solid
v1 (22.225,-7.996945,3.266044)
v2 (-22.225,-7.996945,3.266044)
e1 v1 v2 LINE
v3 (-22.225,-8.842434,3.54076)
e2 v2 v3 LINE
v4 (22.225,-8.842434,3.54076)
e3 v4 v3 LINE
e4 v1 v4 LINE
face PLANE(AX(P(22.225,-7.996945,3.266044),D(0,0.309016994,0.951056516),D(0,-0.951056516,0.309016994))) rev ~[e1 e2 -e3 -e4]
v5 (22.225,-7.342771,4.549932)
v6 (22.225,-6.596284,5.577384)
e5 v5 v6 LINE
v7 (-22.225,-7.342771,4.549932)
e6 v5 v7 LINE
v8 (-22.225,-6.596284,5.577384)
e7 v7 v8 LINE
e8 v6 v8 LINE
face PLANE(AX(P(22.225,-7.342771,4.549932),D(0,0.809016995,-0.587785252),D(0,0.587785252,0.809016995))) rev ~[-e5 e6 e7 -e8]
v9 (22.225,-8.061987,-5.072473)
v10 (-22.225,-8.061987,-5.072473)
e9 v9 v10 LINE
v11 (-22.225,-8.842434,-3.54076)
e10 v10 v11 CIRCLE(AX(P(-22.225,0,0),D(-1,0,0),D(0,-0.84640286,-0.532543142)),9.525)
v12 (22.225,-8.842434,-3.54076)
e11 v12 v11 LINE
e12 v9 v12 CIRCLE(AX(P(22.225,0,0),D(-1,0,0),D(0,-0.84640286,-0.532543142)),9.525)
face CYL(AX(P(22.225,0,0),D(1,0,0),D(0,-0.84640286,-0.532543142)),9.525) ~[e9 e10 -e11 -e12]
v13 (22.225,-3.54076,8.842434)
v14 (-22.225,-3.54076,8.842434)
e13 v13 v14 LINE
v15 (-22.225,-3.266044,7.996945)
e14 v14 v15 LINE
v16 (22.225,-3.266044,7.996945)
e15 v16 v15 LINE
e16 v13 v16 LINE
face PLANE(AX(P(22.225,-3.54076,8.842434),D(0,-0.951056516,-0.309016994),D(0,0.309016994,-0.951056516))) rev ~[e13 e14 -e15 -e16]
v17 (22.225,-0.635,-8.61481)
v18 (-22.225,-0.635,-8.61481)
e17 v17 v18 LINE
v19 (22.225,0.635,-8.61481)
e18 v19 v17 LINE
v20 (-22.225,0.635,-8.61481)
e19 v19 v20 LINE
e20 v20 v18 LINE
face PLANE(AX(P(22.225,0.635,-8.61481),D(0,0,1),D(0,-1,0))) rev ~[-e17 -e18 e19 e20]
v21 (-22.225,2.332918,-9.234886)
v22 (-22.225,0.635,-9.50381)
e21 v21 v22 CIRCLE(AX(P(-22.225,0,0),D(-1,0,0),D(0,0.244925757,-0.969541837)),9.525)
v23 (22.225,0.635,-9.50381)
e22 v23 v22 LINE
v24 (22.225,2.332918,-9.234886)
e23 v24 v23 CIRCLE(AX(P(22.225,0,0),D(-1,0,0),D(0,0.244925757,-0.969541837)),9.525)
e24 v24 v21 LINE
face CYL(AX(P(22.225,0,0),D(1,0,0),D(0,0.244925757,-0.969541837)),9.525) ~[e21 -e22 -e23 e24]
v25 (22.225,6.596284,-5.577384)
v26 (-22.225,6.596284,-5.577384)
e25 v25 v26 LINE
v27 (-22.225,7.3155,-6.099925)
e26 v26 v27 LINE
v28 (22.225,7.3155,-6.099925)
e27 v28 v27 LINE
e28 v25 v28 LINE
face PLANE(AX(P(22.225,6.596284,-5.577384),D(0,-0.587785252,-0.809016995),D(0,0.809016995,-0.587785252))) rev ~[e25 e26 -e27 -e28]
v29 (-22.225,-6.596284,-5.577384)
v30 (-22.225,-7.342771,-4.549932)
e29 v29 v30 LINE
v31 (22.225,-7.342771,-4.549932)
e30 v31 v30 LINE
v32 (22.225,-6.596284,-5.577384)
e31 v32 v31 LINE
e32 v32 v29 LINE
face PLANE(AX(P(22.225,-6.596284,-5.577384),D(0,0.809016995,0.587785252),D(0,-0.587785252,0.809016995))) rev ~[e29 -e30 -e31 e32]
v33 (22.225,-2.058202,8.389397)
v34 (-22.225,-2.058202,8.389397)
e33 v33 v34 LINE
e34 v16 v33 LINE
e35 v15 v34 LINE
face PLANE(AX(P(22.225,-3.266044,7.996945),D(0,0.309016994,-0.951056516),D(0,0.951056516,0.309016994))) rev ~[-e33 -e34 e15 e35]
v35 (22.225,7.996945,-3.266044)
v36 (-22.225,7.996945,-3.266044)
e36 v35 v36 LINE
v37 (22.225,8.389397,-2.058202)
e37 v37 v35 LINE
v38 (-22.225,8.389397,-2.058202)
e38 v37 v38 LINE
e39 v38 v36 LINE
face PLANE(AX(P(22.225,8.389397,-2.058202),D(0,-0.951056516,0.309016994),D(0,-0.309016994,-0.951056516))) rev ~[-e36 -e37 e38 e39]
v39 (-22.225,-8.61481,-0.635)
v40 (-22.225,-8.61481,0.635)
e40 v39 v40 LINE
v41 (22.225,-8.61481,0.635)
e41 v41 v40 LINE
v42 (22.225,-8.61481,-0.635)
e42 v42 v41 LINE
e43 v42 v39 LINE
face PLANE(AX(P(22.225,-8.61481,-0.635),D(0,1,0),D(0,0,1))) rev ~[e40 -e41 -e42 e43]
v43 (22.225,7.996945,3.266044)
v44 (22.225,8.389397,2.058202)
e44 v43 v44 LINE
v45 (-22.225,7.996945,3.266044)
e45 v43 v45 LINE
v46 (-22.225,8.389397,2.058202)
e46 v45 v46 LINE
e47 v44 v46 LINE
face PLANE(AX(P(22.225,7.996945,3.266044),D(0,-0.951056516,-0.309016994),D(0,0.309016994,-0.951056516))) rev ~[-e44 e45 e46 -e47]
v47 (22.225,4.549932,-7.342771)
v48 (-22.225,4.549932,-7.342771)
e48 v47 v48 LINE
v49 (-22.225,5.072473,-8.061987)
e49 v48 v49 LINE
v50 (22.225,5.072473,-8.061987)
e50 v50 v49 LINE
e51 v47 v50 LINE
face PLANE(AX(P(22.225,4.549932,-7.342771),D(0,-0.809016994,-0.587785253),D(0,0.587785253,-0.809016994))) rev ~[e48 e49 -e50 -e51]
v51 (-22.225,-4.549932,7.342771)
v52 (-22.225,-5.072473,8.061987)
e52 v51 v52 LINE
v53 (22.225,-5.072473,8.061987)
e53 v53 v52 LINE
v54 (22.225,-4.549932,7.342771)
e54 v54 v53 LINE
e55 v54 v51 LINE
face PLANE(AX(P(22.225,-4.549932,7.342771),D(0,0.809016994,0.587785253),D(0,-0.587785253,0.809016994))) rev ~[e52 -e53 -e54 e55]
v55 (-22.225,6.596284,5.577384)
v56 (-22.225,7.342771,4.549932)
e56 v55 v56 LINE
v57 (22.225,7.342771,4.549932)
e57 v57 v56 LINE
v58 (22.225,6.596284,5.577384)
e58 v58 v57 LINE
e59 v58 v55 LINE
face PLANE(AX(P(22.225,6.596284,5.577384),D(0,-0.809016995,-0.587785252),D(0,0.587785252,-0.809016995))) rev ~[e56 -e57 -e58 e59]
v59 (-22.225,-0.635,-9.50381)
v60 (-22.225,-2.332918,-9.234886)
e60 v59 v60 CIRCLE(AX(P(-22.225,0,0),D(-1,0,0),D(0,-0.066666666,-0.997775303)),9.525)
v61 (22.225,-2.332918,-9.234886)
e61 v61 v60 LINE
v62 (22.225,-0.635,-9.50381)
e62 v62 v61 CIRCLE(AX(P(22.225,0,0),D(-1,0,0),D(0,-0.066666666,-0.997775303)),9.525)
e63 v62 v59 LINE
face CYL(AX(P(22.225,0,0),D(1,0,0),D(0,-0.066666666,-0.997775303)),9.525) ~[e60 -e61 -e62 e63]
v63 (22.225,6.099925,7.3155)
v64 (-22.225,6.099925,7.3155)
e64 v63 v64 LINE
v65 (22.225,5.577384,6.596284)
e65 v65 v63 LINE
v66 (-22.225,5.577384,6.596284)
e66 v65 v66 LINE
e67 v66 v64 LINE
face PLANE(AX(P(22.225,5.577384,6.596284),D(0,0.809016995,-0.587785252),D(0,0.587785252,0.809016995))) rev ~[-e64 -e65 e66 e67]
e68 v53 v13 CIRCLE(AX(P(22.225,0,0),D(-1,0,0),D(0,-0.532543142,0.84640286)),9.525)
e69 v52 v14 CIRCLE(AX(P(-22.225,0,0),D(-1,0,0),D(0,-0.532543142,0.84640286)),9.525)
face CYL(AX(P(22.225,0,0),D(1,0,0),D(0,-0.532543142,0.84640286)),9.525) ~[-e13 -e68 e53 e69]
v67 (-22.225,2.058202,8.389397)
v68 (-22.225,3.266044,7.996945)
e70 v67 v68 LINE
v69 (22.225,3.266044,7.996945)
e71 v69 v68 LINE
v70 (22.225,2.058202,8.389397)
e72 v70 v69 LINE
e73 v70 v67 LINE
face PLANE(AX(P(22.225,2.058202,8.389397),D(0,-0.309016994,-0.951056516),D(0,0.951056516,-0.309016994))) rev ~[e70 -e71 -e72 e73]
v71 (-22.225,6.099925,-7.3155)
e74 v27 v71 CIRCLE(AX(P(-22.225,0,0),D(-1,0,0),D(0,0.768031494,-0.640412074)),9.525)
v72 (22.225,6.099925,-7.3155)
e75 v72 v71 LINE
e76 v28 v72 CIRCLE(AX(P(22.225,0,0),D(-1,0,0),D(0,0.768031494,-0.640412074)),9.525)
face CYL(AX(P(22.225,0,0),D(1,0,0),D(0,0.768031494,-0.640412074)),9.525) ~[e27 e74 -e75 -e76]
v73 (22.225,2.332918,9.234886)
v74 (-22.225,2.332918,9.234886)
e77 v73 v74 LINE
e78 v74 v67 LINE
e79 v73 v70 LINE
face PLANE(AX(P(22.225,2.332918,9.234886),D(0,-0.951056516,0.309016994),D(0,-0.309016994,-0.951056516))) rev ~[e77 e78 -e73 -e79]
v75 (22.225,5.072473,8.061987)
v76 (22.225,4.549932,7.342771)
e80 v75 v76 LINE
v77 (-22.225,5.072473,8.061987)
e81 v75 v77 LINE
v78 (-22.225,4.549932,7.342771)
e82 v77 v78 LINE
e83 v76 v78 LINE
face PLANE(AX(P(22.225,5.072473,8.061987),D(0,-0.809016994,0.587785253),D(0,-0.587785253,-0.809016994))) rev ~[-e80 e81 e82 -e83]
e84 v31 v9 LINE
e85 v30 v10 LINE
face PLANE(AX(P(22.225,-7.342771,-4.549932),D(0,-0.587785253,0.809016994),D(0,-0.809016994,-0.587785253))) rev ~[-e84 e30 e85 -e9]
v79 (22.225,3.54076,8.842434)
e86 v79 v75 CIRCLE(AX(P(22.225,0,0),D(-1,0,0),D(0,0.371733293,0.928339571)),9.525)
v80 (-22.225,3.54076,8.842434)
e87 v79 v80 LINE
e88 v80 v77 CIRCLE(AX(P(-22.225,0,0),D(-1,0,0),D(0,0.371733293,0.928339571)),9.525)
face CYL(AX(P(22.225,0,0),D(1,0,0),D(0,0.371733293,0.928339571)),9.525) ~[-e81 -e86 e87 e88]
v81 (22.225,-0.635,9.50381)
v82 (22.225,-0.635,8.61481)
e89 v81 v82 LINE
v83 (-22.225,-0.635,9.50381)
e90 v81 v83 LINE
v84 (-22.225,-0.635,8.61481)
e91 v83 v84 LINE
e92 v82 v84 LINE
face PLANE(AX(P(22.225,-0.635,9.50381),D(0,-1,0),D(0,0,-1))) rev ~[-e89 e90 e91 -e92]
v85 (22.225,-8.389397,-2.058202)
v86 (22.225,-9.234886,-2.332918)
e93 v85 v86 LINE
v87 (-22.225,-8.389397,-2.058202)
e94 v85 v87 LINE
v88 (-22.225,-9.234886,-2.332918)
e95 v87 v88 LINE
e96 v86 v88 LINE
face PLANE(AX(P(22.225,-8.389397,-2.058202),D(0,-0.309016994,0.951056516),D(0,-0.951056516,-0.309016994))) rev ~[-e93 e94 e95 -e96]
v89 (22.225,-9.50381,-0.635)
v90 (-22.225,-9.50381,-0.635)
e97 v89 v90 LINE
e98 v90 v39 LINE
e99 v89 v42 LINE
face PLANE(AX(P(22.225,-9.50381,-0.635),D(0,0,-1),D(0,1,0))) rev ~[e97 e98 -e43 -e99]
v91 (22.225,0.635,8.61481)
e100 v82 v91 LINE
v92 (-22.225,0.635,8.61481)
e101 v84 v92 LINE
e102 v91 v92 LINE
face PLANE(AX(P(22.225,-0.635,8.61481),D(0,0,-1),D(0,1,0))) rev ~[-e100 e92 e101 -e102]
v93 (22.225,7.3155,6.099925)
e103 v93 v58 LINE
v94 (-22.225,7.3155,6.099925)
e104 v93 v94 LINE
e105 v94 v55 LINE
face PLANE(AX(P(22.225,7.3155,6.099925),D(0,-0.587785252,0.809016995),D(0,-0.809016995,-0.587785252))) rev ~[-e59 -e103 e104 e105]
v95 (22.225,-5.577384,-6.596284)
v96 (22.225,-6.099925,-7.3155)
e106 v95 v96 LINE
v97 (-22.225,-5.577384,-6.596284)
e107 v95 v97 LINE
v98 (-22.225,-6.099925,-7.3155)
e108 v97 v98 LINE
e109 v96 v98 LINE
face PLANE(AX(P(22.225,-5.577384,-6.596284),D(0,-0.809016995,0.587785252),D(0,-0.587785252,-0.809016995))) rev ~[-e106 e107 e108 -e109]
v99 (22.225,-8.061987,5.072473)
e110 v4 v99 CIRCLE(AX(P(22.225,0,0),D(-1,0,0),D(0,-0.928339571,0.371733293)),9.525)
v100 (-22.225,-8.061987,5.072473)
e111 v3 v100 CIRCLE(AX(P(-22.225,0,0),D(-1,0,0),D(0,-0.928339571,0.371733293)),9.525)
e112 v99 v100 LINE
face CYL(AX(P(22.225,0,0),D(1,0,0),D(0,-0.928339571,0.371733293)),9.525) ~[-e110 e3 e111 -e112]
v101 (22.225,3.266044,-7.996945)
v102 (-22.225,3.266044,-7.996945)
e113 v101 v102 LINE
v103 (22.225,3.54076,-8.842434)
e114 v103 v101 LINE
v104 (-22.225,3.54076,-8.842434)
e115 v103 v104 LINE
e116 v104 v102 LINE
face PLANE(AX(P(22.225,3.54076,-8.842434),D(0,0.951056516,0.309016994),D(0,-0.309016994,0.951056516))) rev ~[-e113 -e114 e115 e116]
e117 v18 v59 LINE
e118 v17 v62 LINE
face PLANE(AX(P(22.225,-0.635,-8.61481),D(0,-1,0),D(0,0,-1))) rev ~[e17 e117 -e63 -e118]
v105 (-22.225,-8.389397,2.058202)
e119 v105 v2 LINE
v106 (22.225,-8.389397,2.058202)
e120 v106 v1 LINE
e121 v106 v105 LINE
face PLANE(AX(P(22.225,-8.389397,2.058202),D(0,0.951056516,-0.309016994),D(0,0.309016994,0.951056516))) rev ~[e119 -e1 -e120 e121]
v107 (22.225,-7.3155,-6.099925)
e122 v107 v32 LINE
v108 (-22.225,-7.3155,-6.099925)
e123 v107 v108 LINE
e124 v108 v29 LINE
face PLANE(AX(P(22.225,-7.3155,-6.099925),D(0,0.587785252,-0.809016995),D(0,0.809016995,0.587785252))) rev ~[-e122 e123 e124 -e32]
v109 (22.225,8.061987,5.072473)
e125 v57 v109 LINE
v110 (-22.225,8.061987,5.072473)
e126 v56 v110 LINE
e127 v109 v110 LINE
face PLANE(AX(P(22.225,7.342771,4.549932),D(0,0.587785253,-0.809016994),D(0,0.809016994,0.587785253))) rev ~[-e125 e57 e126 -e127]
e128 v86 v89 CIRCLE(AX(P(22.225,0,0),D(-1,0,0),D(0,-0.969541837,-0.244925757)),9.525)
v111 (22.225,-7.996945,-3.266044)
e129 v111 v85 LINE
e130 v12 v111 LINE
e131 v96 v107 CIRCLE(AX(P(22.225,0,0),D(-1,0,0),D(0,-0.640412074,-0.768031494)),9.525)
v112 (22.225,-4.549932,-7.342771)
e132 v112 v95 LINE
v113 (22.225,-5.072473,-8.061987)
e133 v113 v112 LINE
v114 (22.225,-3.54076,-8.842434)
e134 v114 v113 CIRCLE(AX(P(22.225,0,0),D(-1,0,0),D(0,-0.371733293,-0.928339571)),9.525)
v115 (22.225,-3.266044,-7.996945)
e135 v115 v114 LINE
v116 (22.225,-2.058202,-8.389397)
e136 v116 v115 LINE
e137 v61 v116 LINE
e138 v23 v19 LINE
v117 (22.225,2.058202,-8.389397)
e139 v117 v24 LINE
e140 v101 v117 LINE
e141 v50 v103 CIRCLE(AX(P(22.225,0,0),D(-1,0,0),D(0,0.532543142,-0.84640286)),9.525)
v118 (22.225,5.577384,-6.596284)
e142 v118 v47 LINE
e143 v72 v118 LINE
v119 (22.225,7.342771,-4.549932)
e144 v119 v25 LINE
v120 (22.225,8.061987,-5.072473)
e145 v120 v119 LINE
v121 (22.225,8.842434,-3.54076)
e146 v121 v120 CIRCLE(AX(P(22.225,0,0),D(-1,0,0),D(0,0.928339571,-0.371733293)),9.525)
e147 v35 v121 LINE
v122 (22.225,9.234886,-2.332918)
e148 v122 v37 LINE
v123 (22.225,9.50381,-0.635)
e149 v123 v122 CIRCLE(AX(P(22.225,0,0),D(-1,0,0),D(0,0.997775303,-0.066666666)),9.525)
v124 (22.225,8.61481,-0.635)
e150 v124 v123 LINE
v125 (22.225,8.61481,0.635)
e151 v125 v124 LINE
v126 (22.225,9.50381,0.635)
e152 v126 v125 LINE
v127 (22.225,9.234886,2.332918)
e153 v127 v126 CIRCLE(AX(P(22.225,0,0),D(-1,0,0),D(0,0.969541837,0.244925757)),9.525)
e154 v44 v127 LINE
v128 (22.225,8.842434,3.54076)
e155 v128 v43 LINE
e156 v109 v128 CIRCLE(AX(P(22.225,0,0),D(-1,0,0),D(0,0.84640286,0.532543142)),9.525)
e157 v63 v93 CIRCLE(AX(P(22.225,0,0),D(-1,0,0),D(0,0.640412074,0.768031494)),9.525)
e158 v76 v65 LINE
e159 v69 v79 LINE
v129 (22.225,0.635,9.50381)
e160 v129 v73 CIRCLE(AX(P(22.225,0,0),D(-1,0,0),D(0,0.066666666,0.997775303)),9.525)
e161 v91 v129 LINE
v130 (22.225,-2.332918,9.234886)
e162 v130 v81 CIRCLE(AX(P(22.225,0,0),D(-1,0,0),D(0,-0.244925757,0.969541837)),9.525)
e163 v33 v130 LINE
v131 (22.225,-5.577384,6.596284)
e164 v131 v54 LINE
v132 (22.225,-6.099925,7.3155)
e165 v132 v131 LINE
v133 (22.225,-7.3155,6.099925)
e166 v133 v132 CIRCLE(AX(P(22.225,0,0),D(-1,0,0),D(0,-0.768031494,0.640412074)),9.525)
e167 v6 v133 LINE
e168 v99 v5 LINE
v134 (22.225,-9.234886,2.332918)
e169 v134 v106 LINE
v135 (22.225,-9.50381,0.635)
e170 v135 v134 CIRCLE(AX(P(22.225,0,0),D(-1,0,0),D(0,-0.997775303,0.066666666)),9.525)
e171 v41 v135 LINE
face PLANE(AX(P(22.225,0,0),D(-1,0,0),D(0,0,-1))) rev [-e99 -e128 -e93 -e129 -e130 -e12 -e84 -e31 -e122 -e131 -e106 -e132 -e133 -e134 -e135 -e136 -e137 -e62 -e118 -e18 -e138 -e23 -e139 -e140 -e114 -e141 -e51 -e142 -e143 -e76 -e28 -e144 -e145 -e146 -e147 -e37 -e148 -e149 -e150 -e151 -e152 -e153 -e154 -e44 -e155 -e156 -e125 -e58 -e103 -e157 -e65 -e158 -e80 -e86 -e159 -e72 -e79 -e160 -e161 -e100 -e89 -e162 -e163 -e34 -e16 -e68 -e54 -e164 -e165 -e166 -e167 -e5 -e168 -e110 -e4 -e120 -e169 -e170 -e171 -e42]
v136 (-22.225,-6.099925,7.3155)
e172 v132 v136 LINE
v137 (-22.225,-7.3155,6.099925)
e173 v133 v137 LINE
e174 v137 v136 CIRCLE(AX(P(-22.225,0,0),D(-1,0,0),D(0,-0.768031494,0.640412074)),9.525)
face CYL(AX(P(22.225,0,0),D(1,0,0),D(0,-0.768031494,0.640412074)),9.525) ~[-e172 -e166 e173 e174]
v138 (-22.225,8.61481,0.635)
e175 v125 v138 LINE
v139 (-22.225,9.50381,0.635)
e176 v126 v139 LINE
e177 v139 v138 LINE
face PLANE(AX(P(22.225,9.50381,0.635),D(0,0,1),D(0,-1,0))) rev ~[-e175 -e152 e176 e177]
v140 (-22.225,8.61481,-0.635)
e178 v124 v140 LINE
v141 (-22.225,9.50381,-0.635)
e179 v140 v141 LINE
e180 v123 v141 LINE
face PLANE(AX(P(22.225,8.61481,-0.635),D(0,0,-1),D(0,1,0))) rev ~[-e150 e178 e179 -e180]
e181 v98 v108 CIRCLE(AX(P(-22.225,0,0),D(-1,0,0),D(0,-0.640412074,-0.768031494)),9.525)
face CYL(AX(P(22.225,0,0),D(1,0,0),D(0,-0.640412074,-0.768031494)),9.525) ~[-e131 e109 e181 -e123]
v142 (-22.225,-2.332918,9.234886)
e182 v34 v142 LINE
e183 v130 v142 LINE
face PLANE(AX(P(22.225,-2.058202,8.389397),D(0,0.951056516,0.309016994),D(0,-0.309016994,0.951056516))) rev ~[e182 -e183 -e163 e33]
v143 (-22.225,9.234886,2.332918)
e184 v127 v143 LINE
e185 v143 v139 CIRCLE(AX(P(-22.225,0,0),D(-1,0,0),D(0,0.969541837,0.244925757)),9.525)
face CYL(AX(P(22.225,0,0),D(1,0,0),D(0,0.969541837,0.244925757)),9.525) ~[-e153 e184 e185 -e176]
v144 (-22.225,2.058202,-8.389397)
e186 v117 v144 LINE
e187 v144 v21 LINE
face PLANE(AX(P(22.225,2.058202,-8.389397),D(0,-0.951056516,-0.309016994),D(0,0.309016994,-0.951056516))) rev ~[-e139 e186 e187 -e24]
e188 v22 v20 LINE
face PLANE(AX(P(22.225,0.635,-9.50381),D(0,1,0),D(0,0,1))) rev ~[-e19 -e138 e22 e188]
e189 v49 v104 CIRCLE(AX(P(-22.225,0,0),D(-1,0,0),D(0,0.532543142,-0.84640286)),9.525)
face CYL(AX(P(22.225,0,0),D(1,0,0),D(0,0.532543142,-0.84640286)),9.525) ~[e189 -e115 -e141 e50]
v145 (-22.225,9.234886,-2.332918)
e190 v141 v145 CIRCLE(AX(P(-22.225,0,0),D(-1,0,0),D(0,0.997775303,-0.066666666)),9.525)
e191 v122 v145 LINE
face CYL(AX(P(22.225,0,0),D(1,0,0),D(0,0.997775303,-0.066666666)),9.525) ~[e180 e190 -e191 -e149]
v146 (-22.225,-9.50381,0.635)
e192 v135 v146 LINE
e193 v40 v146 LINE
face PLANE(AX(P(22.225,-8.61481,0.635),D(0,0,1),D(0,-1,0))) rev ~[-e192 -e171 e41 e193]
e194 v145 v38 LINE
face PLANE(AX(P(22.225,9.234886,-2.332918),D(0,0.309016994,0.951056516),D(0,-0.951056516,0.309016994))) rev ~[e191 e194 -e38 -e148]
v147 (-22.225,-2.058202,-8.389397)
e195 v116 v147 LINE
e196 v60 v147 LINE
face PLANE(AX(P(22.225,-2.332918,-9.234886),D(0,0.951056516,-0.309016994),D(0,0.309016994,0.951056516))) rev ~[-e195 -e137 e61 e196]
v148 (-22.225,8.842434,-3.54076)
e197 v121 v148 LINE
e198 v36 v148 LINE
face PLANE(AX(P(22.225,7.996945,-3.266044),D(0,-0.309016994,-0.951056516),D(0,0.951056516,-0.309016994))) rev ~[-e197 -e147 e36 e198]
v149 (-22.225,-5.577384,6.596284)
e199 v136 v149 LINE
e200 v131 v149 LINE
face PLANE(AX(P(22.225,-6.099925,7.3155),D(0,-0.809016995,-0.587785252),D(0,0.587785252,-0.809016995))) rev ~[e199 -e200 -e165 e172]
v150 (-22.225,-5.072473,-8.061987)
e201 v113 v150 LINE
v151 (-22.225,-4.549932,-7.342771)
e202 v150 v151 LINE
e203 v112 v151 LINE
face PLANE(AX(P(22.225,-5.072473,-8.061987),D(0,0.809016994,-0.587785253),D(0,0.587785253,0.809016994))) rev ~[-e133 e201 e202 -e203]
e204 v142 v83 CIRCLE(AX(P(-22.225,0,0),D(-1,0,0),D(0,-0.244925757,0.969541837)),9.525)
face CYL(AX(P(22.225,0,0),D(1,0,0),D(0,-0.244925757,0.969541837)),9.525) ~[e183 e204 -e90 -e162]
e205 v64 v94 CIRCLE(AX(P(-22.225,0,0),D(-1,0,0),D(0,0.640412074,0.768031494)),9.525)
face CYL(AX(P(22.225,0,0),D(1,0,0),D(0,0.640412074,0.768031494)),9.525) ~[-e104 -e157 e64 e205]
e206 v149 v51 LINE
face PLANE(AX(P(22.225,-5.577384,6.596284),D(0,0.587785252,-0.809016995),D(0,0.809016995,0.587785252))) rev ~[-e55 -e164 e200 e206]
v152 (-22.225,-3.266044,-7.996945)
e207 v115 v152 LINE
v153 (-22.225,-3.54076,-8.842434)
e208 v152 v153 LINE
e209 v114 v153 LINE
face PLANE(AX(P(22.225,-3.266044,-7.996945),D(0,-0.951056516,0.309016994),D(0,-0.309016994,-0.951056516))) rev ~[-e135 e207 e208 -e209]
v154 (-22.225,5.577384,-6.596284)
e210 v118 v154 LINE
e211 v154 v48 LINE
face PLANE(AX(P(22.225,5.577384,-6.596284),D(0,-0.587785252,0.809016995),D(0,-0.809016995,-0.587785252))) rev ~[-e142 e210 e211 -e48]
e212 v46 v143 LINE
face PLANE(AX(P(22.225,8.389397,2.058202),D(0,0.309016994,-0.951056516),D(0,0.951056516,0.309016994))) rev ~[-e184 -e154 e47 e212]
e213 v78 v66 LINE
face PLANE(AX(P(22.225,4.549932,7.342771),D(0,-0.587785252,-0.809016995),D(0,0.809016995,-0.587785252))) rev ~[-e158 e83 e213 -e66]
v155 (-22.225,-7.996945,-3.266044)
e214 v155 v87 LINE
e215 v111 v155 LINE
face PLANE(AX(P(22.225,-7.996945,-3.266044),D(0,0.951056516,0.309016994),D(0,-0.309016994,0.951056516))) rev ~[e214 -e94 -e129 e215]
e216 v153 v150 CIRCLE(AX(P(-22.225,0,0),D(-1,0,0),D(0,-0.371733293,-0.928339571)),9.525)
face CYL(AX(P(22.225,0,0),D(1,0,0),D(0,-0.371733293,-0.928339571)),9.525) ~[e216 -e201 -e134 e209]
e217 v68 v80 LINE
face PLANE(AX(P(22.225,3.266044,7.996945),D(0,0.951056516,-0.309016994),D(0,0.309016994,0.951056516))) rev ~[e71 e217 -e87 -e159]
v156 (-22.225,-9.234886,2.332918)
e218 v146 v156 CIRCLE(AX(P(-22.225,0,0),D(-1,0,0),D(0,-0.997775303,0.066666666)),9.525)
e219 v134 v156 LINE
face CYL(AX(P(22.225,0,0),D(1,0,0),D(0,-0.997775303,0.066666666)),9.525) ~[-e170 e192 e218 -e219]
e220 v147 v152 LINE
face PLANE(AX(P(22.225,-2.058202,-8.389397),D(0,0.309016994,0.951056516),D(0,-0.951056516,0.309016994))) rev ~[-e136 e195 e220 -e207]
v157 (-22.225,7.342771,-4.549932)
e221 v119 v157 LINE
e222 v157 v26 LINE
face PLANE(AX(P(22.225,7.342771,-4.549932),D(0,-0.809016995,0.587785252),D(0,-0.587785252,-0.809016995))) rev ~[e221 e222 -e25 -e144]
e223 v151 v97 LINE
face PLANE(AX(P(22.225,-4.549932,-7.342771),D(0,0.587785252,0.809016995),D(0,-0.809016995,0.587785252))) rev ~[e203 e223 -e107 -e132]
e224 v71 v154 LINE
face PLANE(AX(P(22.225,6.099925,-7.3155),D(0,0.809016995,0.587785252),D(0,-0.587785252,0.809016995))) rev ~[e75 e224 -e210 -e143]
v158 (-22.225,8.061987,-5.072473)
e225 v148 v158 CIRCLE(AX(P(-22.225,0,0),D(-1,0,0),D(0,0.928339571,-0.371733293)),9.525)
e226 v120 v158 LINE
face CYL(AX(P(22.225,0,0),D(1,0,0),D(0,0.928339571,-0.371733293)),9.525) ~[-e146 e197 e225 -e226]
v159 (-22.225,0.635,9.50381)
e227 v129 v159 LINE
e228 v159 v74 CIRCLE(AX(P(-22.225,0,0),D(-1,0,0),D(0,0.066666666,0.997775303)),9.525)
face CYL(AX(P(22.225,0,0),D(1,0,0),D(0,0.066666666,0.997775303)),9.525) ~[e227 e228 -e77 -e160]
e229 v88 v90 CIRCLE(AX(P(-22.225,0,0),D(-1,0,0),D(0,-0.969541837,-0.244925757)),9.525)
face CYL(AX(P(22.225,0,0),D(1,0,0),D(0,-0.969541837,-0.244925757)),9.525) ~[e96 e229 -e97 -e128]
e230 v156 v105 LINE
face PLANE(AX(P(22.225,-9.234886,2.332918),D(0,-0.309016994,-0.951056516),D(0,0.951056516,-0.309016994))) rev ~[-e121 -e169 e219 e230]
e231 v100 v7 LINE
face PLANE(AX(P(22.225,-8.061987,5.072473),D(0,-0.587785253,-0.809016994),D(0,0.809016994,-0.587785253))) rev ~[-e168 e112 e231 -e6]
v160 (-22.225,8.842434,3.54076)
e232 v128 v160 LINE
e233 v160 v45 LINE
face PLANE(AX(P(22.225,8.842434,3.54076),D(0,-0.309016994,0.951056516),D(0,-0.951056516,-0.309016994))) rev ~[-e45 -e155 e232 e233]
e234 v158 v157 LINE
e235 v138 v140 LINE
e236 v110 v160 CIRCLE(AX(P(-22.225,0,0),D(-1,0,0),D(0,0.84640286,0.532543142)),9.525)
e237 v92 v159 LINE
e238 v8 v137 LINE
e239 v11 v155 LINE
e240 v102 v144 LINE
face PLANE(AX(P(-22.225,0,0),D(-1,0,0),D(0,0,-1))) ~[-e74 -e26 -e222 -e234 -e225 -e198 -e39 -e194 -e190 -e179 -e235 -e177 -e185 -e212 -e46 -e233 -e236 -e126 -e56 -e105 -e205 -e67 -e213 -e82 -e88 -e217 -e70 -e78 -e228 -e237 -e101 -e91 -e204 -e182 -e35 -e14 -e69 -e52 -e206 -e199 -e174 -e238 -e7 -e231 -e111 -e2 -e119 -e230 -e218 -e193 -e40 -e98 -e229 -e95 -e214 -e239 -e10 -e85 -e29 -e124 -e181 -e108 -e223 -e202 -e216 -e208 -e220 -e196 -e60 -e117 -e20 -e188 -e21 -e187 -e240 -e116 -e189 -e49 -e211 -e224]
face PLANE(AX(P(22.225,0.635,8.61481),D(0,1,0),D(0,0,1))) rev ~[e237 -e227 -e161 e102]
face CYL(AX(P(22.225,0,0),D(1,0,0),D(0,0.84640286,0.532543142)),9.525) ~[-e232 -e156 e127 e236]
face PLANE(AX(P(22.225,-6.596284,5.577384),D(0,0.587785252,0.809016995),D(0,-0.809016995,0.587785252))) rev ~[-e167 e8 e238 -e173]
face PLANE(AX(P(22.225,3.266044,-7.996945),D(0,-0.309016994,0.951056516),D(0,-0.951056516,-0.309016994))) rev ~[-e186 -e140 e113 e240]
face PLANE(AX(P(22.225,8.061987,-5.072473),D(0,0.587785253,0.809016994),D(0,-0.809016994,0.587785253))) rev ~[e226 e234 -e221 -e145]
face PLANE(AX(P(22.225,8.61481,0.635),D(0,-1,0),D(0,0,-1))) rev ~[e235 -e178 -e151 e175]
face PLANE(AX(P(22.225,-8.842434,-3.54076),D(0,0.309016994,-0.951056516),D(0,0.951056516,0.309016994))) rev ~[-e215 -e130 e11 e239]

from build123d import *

# Parameters (mm, degrees)
SKETCH1_W          = 44.45
SKETCH1_H          = 9.525
SKETCH2_OUTSIDE_W  = 31.446
SKETCH2_OUTSIDE_H  = 31.446
CUT_EXTRUDE1_DEPTH = 44.45


with BuildPart() as part:
    # Sketch1 → Revolve1 (revolve)
    with BuildSketch(Plane(origin=(0, 0, 0), x_dir=(1, 0, 0), z_dir=(0, 1, 0))):
        with Locations((0, 4.7625)):
            Rectangle(SKETCH1_W, SKETCH1_H)
    revolve(axis=Axis((17.670033956, 0, 0), (-1, 0, 0)))

    # Sketch2 outside → Cut-Extrude1 (cut)
    with BuildSketch(Plane(origin=(22.225, 0, 0), x_dir=(0, 0, -1), z_dir=(1, 0, 0))):
        Rectangle(SKETCH2_OUTSIDE_W, SKETCH2_OUTSIDE_H)
        with BuildLine():
            Line((-0.635, 8.614809762), (0.635, 8.614809762))
            Line((0.635, 8.614809762), (0.635, 9.503809762))
            ThreePointArc((0.635, 9.503809762), (1.49003828, 9.407731444), (2.33291784, 9.234885996))
            Line((2.33291784, 9.234885996), (2.058201732, 8.389396753))
            Line((2.058201732, 8.389396753), (3.266043508, 7.99694517))
            Line((3.266043508, 7.99694517), (3.540759616, 8.842434413))
            ThreePointArc((3.540759616, 8.842434413), (4.32425951, 8.486837143), (5.072473428, 8.061987244))
            Line((5.072473428, 8.061987244), (4.549932338, 7.342771136))
            Line((4.549932338, 7.342771136), (5.577383921, 6.596283866))
            Line((5.577383921, 6.596283866), (6.09992501, 7.315499974))
            ThreePointArc((6.09992501, 7.315499974), (6.735192091, 6.735192091), (7.315499974, 6.09992501))
            Line((7.315499974, 6.09992501), (6.596283866, 5.577383921))
            Line((6.596283866, 5.577383921), (7.342771136, 4.549932338))
            Line((7.342771136, 4.549932338), (8.061987244, 5.072473428))
            ThreePointArc((8.061987244, 5.072473428), (8.486837143, 4.32425951), (8.842434413, 3.540759616))
            Line((8.842434413, 3.540759616), (7.99694517, 3.266043508))
            Line((7.99694517, 3.266043508), (8.389396753, 2.058201732))
            Line((8.389396753, 2.058201732), (9.234885996, 2.33291784))
            ThreePointArc((9.234885996, 2.33291784), (9.407731444, 1.49003828), (9.503809762, 0.635))
            Line((9.503809762, 0.635), (8.614809762, 0.635))
            Line((8.614809762, 0.635), (8.614809762, -0.635))
            Line((8.614809762, -0.635), (9.503809762, -0.635))
            ThreePointArc((9.503809762, -0.635), (9.407731444, -1.49003828), (9.234885996, -2.33291784))
            Line((9.234885996, -2.33291784), (8.389396753, -2.058201732))
            Line((8.389396753, -2.058201732), (7.99694517, -3.266043508))
            Line((7.99694517, -3.266043508), (8.842434413, -3.540759616))
            ThreePointArc((8.842434413, -3.540759616), (8.486837143, -4.32425951), (8.061987244, -5.072473428))
            Line((8.061987244, -5.072473428), (7.342771136, -4.549932338))
            Line((7.342771136, -4.549932338), (6.596283866, -5.577383921))
            Line((6.596283866, -5.577383921), (7.315499974, -6.09992501))
            ThreePointArc((7.315499974, -6.09992501), (6.735192091, -6.735192091), (6.09992501, -7.315499974))
            Line((6.09992501, -7.315499974), (5.577383921, -6.596283866))
            Line((5.577383921, -6.596283866), (4.549932338, -7.342771136))
            Line((4.549932338, -7.342771136), (5.072473428, -8.061987244))
            ThreePointArc((5.072473428, -8.061987244), (4.32425951, -8.486837143), (3.540759616, -8.842434413))
            Line((3.540759616, -8.842434413), (3.266043508, -7.99694517))
            Line((3.266043508, -7.99694517), (2.058201732, -8.389396753))
            Line((2.058201732, -8.389396753), (2.33291784, -9.234885996))
            ThreePointArc((2.33291784, -9.234885996), (1.49003828, -9.407731444), (0.635, -9.503809762))
            Line((0.635, -9.503809762), (0.635, -8.614809762))
            Line((0.635, -8.614809762), (-0.635, -8.614809762))
            Line((-0.635, -8.614809762), (-0.635, -9.503809762))
            ThreePointArc((-0.635, -9.503809762), (-1.49003828, -9.407731444), (-2.33291784, -9.234885996))
            Line((-2.33291784, -9.234885996), (-2.058201732, -8.389396753))
            Line((-2.058201732, -8.389396753), (-3.266043508, -7.99694517))
            Line((-3.266043508, -7.99694517), (-3.540759616, -8.842434413))
            ThreePointArc((-3.540759616, -8.842434413), (-4.32425951, -8.486837143), (-5.072473428, -8.061987244))
            Line((-5.072473428, -8.061987244), (-4.549932338, -7.342771136))
            Line((-4.549932338, -7.342771136), (-5.577383921, -6.596283866))
            Line((-5.577383921, -6.596283866), (-6.09992501, -7.315499974))
            ThreePointArc((-6.09992501, -7.315499974), (-6.735192091, -6.735192091), (-7.315499974, -6.09992501))
            Line((-7.315499974, -6.09992501), (-6.596283866, -5.577383921))
            Line((-6.596283866, -5.577383921), (-7.342771136, -4.549932338))
            Line((-7.342771136, -4.549932338), (-8.061987244, -5.072473428))
            ThreePointArc((-8.061987244, -5.072473428), (-8.486837143, -4.32425951), (-8.842434413, -3.540759616))
            Line((-8.842434413, -3.540759616), (-7.99694517, -3.266043508))
            Line((-7.99694517, -3.266043508), (-8.389396753, -2.058201732))
            Line((-8.389396753, -2.058201732), (-9.234885996, -2.33291784))
            ThreePointArc((-9.234885996, -2.33291784), (-9.407731444, -1.49003828), (-9.503809762, -0.635))
            Line((-9.503809762, -0.635), (-8.614809762, -0.635))
            Line((-8.614809762, -0.635), (-8.614809762, 0.635))
            Line((-8.614809762, 0.635), (-9.503809762, 0.635))
            ThreePointArc((-9.503809762, 0.635), (-9.407731444, 1.49003828), (-9.234885996, 2.33291784))
            Line((-9.234885996, 2.33291784), (-8.389396753, 2.058201732))
            Line((-8.389396753, 2.058201732), (-7.99694517, 3.266043508))
            Line((-7.99694517, 3.266043508), (-8.842434413, 3.540759616))
            ThreePointArc((-8.842434413, 3.540759616), (-8.486837143, 4.32425951), (-8.061987244, 5.072473428))
            Line((-8.061987244, 5.072473428), (-7.342771136, 4.549932338))
            Line((-7.342771136, 4.549932338), (-6.596283866, 5.577383921))
            Line((-6.596283866, 5.577383921), (-7.315499974, 6.09992501))
            ThreePointArc((-7.315499974, 6.09992501), (-6.735192091, 6.735192091), (-6.09992501, 7.315499974))
            Line((-6.09992501, 7.315499974), (-5.577383921, 6.596283866))
            Line((-5.577383921, 6.596283866), (-4.549932338, 7.342771136))
            Line((-4.549932338, 7.342771136), (-5.072473428, 8.061987244))
            ThreePointArc((-5.072473428, 8.061987244), (-4.32425951, 8.486837143), (-3.540759616, 8.842434413))
            Line((-3.540759616, 8.842434413), (-3.266043508, 7.99694517))
            Line((-3.266043508, 7.99694517), (-2.058201732, 8.389396753))
            Line((-2.058201732, 8.389396753), (-2.33291784, 9.234885996))
            ThreePointArc((-2.33291784, 9.234885996), (-1.49003828, 9.407731444), (-0.635, 9.503809762))
            Line((-0.635, 9.503809762), (-0.635, 8.614809762))
        make_face(mode=Mode.SUBTRACT)
    extrude(amount=-CUT_EXTRUDE1_DEPTH, mode=Mode.SUBTRACT)


solid = part.part
